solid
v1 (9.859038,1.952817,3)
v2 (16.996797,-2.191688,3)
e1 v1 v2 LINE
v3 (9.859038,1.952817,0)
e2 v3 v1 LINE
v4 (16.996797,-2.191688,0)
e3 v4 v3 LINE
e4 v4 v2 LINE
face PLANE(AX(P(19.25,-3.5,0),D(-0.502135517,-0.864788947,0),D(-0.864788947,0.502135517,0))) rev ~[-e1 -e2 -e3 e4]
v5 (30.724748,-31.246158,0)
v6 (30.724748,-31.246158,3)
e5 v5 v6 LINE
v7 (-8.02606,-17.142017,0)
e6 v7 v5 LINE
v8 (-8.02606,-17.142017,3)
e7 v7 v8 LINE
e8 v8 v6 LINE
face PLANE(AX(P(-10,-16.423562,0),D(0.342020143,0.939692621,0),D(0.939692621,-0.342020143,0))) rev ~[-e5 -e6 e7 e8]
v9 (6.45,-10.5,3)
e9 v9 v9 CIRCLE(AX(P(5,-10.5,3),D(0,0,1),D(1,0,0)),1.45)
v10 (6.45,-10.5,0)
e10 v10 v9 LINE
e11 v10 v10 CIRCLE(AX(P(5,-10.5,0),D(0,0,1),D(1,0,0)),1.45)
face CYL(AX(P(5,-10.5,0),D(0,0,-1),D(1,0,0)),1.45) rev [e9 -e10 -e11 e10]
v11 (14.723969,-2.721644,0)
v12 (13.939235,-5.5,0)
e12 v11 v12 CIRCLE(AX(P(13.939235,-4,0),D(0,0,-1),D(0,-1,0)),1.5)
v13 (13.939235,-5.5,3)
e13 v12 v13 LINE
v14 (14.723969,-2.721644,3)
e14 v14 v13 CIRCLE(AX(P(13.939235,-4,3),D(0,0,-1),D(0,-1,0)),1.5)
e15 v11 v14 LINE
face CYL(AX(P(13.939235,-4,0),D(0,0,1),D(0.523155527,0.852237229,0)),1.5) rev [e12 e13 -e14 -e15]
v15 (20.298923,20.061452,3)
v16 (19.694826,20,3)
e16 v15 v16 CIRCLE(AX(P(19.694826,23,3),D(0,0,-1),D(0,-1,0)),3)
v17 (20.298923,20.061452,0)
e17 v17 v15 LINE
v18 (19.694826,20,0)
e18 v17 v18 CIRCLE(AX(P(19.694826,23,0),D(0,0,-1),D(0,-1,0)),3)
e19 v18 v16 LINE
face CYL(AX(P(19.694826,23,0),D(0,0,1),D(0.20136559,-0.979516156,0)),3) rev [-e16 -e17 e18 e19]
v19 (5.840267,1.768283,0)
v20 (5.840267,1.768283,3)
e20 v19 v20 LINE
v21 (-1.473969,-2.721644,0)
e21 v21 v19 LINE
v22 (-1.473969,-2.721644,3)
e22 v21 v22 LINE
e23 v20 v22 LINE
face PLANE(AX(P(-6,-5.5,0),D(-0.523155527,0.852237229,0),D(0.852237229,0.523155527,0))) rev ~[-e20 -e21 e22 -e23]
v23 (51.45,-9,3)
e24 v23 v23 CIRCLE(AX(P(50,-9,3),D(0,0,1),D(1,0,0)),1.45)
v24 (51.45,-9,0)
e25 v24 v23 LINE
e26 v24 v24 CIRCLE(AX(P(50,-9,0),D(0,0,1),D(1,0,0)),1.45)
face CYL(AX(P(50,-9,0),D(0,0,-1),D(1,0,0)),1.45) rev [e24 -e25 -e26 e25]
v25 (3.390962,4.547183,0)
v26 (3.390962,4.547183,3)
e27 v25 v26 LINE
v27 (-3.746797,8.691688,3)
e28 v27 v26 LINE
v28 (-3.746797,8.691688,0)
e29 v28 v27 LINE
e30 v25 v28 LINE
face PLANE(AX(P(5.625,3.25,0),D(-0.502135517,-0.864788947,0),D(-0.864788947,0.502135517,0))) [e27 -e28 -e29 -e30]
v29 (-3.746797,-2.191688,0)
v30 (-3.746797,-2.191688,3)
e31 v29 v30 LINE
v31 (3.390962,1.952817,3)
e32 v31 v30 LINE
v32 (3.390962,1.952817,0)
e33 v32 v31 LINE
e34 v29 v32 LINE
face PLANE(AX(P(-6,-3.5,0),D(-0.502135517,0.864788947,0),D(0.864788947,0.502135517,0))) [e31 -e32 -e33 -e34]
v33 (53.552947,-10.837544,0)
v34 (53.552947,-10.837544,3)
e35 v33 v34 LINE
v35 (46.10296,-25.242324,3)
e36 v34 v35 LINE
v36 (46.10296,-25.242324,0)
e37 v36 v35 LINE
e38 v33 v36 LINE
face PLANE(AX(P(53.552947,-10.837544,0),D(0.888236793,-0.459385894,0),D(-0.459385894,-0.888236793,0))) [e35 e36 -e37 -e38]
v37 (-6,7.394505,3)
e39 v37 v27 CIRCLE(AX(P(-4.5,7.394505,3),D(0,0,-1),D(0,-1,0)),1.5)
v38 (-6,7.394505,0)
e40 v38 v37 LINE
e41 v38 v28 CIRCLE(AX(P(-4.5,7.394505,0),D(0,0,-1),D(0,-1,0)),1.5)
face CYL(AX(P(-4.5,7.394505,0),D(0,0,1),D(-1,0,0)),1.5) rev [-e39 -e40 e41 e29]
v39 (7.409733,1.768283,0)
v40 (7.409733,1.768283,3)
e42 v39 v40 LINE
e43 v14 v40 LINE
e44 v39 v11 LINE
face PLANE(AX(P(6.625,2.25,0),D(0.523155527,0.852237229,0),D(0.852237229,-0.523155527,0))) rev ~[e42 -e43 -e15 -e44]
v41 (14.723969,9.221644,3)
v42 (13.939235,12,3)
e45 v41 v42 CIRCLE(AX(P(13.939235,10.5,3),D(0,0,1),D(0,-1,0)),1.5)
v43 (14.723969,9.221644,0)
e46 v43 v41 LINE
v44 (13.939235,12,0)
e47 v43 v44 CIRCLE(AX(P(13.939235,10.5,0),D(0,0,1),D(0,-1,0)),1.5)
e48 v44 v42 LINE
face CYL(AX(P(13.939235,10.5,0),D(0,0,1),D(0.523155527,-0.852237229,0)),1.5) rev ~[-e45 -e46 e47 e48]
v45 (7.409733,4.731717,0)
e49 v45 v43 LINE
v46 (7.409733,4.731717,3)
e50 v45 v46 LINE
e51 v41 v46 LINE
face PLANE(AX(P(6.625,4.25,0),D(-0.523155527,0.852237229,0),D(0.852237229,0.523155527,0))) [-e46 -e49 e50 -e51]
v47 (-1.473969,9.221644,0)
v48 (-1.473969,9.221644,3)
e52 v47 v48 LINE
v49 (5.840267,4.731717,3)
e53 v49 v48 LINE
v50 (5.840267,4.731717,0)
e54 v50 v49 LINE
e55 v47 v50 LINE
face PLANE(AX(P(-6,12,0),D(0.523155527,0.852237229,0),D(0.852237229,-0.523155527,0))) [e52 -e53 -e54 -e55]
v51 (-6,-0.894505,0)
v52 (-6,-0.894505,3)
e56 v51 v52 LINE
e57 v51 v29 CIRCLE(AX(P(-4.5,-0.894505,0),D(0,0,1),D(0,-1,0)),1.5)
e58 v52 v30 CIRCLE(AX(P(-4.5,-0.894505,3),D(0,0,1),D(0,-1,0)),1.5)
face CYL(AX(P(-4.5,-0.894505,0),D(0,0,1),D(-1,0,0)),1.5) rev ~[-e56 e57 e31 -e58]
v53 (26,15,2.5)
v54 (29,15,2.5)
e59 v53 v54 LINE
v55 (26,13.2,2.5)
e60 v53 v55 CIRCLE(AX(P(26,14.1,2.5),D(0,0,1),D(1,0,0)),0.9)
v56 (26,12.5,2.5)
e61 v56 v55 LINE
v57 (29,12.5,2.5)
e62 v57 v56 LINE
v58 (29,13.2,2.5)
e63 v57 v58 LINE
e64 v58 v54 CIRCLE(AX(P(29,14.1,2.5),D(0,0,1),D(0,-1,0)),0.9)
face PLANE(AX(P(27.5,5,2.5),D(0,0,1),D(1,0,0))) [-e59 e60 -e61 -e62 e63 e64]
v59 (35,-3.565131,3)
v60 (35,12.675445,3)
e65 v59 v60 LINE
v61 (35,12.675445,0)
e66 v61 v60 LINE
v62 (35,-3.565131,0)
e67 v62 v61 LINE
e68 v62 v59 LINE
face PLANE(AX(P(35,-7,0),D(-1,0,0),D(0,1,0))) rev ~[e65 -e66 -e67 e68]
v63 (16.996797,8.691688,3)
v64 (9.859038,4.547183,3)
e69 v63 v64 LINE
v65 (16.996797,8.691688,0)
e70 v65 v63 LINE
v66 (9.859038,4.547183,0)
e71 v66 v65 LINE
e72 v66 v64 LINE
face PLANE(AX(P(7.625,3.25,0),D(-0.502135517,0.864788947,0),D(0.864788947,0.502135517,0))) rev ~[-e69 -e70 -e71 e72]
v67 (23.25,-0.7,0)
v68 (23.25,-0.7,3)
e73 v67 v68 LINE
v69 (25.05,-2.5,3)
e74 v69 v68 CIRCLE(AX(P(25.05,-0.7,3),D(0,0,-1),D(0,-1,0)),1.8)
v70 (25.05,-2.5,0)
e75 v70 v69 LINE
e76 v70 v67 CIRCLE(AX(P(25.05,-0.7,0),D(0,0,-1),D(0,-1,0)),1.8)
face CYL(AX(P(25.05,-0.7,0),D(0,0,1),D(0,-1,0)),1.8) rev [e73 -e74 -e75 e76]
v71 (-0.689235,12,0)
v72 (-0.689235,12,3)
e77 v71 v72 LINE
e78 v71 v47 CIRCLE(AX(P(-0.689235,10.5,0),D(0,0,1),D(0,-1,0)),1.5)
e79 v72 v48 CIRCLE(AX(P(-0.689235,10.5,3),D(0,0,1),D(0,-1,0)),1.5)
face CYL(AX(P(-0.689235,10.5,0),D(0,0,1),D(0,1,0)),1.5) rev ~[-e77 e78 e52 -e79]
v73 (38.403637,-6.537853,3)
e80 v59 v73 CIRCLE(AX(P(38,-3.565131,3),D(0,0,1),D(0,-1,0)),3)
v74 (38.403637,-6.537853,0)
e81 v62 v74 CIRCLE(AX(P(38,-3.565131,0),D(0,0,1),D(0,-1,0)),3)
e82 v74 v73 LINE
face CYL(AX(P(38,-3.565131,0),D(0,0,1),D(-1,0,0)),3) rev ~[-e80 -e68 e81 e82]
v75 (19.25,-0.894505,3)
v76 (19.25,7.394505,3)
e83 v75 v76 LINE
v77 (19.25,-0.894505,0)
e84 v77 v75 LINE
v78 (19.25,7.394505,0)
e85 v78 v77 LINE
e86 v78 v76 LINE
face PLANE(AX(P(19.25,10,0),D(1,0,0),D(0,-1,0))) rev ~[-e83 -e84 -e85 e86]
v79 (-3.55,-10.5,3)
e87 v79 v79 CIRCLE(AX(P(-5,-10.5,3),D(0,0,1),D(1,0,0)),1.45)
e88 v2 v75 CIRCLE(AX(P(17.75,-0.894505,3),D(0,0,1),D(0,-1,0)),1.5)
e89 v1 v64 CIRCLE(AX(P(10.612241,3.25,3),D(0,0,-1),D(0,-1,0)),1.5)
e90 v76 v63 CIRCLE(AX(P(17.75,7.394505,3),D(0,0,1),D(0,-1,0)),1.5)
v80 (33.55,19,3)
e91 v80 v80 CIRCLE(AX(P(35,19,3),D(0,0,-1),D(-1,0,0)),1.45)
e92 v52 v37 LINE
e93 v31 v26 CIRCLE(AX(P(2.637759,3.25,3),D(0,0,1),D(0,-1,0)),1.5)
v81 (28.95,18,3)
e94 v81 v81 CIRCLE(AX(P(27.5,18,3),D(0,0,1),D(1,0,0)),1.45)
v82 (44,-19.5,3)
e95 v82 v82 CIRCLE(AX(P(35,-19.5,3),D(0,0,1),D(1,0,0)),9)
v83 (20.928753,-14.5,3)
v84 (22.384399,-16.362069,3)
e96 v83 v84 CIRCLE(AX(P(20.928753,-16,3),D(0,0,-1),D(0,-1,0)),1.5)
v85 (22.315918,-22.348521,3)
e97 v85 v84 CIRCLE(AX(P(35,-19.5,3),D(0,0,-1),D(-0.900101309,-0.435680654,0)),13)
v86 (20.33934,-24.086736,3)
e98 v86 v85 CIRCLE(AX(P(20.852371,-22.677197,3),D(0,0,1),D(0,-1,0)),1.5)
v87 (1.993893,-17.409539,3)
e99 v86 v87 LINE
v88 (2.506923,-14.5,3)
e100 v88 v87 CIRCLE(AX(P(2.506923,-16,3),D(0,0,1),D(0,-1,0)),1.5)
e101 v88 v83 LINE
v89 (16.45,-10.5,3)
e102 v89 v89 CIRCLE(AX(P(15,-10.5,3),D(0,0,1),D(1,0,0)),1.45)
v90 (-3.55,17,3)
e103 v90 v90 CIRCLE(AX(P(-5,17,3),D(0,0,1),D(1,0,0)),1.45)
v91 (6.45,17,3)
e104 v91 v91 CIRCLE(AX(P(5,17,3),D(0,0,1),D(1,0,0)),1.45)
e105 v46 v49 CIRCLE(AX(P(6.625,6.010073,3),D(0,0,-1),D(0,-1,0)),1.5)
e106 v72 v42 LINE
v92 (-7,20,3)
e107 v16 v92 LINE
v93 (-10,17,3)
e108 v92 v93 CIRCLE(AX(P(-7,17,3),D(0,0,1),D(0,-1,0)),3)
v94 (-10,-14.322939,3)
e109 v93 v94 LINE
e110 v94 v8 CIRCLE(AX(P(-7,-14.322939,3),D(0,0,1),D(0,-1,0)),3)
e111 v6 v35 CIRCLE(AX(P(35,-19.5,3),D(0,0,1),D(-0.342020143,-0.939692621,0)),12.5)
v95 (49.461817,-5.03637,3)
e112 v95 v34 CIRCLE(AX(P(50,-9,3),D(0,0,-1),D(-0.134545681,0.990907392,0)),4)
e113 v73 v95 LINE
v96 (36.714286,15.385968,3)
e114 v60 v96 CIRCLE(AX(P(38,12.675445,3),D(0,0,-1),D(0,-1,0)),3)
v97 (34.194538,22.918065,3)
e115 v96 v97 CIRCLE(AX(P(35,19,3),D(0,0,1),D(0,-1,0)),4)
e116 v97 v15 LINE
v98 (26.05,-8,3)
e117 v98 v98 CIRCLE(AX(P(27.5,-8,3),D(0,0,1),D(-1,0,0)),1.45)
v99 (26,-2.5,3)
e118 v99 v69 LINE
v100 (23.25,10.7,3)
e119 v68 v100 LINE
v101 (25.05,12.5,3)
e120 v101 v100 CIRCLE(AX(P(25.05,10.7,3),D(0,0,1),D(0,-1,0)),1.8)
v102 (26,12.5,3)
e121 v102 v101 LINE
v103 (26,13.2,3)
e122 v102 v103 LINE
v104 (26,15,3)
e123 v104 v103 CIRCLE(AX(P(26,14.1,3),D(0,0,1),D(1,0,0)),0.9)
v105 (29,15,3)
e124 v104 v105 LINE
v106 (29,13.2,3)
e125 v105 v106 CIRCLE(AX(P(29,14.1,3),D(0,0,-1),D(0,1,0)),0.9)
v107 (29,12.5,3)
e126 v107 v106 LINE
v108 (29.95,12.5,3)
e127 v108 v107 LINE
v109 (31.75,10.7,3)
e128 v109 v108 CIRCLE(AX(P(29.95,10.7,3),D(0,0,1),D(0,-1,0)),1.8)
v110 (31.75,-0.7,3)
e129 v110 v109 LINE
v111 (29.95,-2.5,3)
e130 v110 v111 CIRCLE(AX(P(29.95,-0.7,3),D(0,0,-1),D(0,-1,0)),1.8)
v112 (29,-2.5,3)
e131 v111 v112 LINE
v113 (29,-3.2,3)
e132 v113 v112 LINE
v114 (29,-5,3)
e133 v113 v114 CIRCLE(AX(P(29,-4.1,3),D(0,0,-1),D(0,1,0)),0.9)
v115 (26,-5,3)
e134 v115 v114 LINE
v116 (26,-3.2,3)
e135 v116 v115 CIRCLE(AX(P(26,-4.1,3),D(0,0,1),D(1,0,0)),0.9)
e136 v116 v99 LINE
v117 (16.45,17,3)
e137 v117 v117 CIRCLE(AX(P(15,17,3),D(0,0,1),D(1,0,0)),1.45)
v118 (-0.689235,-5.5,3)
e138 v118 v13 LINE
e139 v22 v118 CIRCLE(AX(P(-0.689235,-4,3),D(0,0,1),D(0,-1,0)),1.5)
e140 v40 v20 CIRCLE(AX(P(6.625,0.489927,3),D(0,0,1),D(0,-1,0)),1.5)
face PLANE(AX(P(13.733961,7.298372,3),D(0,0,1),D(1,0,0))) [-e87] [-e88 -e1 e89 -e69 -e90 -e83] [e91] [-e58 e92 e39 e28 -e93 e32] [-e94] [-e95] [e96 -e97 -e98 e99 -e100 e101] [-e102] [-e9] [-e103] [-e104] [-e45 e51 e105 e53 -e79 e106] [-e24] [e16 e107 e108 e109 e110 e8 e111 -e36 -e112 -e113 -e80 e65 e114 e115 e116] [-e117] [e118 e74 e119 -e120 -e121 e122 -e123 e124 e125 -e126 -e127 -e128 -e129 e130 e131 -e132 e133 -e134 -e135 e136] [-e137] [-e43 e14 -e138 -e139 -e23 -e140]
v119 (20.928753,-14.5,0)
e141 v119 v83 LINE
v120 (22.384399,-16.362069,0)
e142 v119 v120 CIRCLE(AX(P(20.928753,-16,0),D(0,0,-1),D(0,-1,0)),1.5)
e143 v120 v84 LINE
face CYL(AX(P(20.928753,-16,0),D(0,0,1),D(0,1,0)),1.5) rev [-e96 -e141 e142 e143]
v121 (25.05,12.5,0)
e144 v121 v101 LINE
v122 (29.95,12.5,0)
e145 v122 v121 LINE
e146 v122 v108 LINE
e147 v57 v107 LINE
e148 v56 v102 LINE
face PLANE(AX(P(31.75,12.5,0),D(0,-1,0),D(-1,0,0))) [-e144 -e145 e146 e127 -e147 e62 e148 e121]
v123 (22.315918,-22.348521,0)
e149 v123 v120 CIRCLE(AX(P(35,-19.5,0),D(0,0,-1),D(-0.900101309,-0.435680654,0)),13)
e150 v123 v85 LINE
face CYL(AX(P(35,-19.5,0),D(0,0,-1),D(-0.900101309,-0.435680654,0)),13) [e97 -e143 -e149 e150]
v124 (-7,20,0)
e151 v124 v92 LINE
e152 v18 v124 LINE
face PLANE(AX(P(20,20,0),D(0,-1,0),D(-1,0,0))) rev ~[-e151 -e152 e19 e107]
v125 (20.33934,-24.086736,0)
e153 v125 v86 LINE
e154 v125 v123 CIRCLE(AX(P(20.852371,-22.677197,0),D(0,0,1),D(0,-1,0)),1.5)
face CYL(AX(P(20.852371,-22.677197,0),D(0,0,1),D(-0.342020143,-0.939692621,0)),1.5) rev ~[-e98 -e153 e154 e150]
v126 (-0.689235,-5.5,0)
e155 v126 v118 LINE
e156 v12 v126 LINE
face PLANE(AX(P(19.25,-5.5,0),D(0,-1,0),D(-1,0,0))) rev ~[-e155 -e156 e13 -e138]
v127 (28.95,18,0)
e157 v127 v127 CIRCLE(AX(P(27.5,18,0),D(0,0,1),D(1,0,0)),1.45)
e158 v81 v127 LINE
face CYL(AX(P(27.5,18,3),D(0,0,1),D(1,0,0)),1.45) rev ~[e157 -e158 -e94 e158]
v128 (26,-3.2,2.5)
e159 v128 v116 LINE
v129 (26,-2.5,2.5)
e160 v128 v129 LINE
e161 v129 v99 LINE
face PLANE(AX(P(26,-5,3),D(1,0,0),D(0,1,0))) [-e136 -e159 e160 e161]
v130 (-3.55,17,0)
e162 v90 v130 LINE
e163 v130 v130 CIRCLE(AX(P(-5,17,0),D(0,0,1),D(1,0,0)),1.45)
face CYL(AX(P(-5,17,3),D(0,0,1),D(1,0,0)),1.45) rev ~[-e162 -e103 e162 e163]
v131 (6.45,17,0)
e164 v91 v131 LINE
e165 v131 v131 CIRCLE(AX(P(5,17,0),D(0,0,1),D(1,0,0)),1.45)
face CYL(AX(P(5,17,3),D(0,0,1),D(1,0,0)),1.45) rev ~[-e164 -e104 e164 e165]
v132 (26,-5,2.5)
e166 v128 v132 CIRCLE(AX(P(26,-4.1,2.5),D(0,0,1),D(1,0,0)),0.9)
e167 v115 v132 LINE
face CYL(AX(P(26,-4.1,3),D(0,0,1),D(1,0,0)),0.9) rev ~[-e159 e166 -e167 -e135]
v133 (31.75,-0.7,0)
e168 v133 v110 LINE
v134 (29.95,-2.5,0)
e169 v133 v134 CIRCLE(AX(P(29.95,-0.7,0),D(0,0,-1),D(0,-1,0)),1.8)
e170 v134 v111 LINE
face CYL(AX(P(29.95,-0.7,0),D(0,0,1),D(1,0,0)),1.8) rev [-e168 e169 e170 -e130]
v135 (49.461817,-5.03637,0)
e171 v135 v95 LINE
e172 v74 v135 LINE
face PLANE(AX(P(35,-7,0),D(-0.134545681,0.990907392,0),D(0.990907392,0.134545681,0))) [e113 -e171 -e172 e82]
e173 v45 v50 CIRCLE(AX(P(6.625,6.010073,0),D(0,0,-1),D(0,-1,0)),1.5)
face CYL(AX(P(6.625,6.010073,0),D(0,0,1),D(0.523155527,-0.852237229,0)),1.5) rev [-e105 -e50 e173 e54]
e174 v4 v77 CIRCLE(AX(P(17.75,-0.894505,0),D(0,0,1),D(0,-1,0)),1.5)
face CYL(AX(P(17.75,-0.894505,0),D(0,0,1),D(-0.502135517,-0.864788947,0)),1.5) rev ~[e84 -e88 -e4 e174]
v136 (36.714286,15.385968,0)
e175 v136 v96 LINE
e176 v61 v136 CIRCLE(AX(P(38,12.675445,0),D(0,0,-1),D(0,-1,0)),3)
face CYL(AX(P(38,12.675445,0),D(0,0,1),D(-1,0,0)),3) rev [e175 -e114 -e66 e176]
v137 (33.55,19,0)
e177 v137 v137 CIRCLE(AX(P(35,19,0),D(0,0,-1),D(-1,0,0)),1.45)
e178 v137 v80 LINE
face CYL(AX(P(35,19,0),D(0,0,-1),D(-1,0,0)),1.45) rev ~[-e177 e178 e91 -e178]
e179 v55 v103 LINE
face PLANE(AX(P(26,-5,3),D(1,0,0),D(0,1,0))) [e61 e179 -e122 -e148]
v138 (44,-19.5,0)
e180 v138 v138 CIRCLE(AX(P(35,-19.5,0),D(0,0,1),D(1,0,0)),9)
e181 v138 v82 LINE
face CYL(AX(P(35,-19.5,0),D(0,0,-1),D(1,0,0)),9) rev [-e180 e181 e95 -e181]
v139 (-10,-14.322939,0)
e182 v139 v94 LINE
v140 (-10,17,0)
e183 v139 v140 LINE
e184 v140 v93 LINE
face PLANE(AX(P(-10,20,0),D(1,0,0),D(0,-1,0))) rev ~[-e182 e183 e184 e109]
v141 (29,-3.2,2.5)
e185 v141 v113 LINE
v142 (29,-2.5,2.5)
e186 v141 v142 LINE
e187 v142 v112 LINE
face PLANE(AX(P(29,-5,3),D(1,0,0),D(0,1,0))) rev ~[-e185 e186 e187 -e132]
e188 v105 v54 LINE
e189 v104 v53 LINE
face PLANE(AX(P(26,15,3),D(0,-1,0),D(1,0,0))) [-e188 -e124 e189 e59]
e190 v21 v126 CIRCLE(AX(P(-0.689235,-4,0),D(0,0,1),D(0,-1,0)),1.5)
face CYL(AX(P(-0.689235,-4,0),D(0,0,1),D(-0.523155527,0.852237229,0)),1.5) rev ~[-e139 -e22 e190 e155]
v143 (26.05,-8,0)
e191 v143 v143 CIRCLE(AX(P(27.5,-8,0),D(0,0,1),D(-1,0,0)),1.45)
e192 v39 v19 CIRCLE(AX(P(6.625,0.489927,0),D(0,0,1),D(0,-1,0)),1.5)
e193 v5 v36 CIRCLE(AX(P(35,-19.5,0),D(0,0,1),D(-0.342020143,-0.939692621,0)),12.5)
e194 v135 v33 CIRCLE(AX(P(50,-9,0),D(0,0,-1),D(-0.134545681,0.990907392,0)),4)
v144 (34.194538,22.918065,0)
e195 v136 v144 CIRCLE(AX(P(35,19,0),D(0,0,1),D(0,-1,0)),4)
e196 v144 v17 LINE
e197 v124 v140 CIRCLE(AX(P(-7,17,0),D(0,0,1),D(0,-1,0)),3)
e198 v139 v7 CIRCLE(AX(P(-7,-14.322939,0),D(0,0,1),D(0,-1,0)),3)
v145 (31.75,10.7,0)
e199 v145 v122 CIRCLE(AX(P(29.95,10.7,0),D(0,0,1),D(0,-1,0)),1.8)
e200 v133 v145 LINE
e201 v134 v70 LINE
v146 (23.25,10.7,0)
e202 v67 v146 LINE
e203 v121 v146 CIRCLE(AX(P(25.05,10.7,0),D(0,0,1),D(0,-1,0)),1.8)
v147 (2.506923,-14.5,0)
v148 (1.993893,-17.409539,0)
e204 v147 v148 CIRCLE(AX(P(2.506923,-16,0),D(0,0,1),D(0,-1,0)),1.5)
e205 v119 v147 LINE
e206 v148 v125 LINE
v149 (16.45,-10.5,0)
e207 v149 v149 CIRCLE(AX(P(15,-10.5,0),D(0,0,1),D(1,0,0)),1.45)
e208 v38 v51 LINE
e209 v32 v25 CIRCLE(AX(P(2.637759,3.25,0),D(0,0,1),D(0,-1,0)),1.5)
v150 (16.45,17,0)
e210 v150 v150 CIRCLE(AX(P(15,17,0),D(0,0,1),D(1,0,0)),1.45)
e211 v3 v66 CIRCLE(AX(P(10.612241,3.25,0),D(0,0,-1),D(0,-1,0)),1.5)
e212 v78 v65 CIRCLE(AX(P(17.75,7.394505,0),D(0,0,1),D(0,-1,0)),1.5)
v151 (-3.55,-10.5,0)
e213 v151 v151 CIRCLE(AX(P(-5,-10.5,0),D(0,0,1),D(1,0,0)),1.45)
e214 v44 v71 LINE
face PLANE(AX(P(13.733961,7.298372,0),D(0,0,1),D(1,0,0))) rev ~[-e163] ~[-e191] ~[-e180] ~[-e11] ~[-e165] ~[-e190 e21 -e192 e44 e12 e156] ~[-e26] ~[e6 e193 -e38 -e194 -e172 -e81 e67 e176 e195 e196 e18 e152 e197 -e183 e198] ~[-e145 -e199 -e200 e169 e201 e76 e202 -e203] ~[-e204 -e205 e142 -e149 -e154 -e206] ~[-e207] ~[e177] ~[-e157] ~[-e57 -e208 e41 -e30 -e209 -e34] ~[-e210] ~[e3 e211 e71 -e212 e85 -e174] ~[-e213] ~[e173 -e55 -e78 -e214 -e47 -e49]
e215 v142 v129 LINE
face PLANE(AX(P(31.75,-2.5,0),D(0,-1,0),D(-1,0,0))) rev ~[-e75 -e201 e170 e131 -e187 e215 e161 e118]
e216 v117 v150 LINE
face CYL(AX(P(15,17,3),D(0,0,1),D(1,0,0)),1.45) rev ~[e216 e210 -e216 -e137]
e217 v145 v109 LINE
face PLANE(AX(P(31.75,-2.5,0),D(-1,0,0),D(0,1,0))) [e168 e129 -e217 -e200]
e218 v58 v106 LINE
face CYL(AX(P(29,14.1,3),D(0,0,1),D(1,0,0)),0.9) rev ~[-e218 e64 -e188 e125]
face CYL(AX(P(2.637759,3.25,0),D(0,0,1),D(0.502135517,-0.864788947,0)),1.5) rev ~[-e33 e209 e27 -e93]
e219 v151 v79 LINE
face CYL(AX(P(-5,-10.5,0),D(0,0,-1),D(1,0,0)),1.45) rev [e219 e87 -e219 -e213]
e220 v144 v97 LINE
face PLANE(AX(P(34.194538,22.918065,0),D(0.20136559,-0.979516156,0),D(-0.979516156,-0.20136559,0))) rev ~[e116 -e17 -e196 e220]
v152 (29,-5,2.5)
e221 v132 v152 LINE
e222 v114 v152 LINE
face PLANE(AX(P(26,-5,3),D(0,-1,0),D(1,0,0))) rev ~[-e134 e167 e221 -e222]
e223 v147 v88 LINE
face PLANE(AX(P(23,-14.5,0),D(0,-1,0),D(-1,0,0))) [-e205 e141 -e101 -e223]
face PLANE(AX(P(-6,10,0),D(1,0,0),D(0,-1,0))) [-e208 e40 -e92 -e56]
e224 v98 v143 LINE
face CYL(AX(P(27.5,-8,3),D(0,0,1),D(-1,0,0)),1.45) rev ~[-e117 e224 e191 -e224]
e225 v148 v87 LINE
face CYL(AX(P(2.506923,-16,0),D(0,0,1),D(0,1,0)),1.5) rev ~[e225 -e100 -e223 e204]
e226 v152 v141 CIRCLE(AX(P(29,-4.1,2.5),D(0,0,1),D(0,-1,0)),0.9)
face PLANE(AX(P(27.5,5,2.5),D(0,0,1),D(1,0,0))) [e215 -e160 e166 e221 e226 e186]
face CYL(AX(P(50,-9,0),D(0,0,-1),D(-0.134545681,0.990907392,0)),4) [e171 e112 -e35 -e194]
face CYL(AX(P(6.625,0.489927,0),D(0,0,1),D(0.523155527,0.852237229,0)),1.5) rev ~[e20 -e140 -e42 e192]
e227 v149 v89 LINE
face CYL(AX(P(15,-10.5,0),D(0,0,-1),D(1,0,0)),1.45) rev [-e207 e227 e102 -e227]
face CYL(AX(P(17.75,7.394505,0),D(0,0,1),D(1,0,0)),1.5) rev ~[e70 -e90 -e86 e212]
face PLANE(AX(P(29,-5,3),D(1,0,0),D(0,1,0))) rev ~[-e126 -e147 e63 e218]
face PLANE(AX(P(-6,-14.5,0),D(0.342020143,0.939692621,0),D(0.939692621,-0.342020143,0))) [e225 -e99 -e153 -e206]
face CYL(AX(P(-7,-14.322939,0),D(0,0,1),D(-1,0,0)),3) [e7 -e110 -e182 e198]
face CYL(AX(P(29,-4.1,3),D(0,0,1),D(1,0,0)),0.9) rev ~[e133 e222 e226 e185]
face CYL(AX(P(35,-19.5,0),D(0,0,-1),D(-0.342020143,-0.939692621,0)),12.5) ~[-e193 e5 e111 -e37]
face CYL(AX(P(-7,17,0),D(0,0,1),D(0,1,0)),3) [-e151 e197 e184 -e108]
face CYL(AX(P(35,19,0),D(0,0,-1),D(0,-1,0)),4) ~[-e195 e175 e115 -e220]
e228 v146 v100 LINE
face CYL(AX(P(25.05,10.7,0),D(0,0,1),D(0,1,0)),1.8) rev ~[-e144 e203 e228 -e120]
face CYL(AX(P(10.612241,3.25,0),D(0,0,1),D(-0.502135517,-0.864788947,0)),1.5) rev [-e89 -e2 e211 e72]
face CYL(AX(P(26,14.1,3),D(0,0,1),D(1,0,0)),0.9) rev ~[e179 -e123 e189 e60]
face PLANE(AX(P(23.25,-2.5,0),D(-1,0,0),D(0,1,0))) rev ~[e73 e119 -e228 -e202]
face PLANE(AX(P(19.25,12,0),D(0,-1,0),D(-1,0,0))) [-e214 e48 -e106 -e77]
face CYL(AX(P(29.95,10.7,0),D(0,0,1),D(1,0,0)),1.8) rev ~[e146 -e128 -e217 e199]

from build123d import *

# Parameters (mm, degrees)
SKETCH_2_R          = 9
SKETCH_2_R_2        = 1.45
EXTRUDE_1_DEPTH     = 3
EXTRUDE_START       = -3
SKETCH_4_R          = 1.45
EXTRUDE_2_DEPTH     = 3
SKETCH_5_R          = 1.45
SKETCH_5_W          = 8.5
SKETCH_5_H          = 15
EXTRUDE_3_DEPTH     = 3
SKETCH_6_W          = 3
SKETCH_6_H          = 20
CUT_EXTRUDE_2_DEPTH = 0.5
SKETCH_7_R          = 1.45
CUT_EXTRUDE_3_DEPTH = 20
FILLET_1_R          = 1.8
FILLET_2_R          = 3
SKETCH_8_R          = 0.9
CUT_EXTRUDE_4_DEPTH = 0.5
CUT_EXTRUDE_5_DEPTH = 10.5
FILLET_3_R          = 1.5


with BuildPart() as part:
    # 草图2 → 凸台-拉伸1 (new body)
    with BuildSketch(Plane.XY):
        with BuildLine():
            Line((-10, -7), (-10, -16.423561614))
            Line((-10, -16.423561614), (30.724748208, -31.24615776))
            ThreePointArc((30.724748208, -31.24615776), (47.310096913, -21.670602221), (35, -7))
            Line((35, -7), (-10, -7))
        make_face()
        with Locations((35, -19.5)):
            Circle(SKETCH_2_R, mode=Mode.SUBTRACT)
        with Locations((15, -10.5)):
            Circle(SKETCH_2_R_2, mode=Mode.SUBTRACT)
        with Locations((5, -10.5)):
            Circle(SKETCH_2_R_2, mode=Mode.SUBTRACT)
        with Locations((-5, -10.5)):
            Circle(SKETCH_2_R_2, mode=Mode.SUBTRACT)
    extrude(amount=EXTRUDE_1_DEPTH)

    # 草图4 → 凸台-拉伸2 (add)
    with BuildSketch(Plane.XY.offset(3).offset(EXTRUDE_START)):
        with BuildLine():
            Line((35, -7), (49.461817276, -5.036370432))
            ThreePointArc((49.461817276, -5.036370432), (53.268884157, -6.694702543), (53.552947171, -10.837543578))
            Line((53.552947171, -10.837543578), (46.102959909, -25.24232368))
            ThreePointArc((46.102959909, -25.24232368), (45.677758332, -13.00111725), (35, -7))
        make_face()
        with Locations((50, -9)):
            Circle(SKETCH_4_R, mode=Mode.SUBTRACT)
    extrude(amount=EXTRUDE_2_DEPTH)

    # 草图5 → 凸台-拉伸3 (add)
    with BuildSketch(Plane(origin=(0, 0, 0), x_dir=(-1, 0, 0), z_dir=(0, 0, -1))):
        with BuildLine():
            Line((-35, -7), (-35, 15))
            ThreePointArc((-35, 15), (-38.979463437, 19.404809528), (-34.194537642, 22.918064623))
            Line((-34.194537642, 22.918064623), (-20, 20))
            Line((-20, 20), (10, 20))
            Line((10, 20), (10, -7))
            Line((10, -7), (-35, -7))
        make_face()
        with Locations((-35, 19)):
            Circle(SKETCH_5_R, mode=Mode.SUBTRACT)
        with Locations((-27.5, 5)):
            Rectangle(SKETCH_5_W, SKETCH_5_H, mode=Mode.SUBTRACT)
    extrude(amount=-EXTRUDE_3_DEPTH)

    # 草图6 → 切除-拉伸2 (cut)
    with BuildSketch(Plane.XY.offset(3)):
        with Locations((27.5, 5)):
            Rectangle(SKETCH_6_W, SKETCH_6_H)
    extrude(amount=-CUT_EXTRUDE_2_DEPTH, mode=Mode.SUBTRACT)

    # 草图7 → 切除-拉伸3 (cut)
    with BuildSketch(Plane.XY.offset(3)):
        with Locations((27.5, 18)):
            Circle(SKETCH_7_R)
        with Locations(Location((27.5, -8, 0), (0, 0, 180))):
            Circle(SKETCH_7_R)
        with Locations((-5, 17)):
            Circle(SKETCH_7_R)
        with Locations((5, 17)):
            Circle(SKETCH_7_R)
        with Locations((15, 17)):
            Circle(SKETCH_7_R)
    extrude(amount=-CUT_EXTRUDE_3_DEPTH, mode=Mode.SUBTRACT)

    # 圆角1
    fillet_1_edges = [part.edges().sort_by_distance(p)[0] for p in [
        (31.75, 12.5, 1.5),
        (23.25, 12.5, 1.5),
        (23.25, -2.5, 1.5),
        (31.75, -2.5, 1.5),
    ]]
    fillet(fillet_1_edges, radius=FILLET_1_R)

    # 圆角2
    fillet_2_edges = [part.edges().sort_by_distance(p)[0] for p in [
        (35, 15, 1.5),
        (20, 20, 1.5),
        (-10, 20, 1.5),
        (35, -7, 1.5),
        (-10, -16.423561614, 1.5),
    ]]
    fillet(fillet_2_edges, radius=FILLET_2_R)

    # 草图8 → 切除-拉伸4 (cut)
    with BuildSketch(Plane.XY.offset(3)):
        with Locations((26, 14.1)):
            Circle(SKETCH_8_R)
        with Locations((29, 14.1)):
            Circle(SKETCH_8_R)
        with Locations((26, -4.1)):
            Circle(SKETCH_8_R)
        with Locations((29, -4.1)):
            Circle(SKETCH_8_R)
    extrude(amount=-CUT_EXTRUDE_4_DEPTH, mode=Mode.SUBTRACT)

    # 草图9 → 切除-拉伸5 (cut)
    with BuildSketch(Plane(origin=(0, 0, 0), x_dir=(-1, 0, 0), z_dir=(0, 0, -1))):
        Polygon((-6.625, 4.25), (-19.25, 12), (6, 12), align=None)
        Polygon((-7.625, 3.25), (-19.25, 10), (-19.25, -3.5), align=None)
        Polygon((6, 10), (6, -3.5), (-5.625, 3.25), align=None)
        Polygon((-19.25, -5.5), (6, -5.5), (-6.625, 2.25), align=None)
        with BuildLine():
            Line((-23, -14.5), (6, -14.5))
            Line((6, -14.5), (-23.298682976, -25.163848506))
            ThreePointArc((-23.298682976, -25.163848506), (-22.005096252, -19.863973337), (-23, -14.5))
        make_face()
    extrude(amount=-CUT_EXTRUDE_5_DEPTH, mode=Mode.SUBTRACT)

    # 圆角3
    fillet_3_edges = [part.edges().sort_by_distance(p)[0] for p in [
        (7.625, 3.25, 1.5),
        (19.25, -3.5, 1.5),
        (19.25, 10, 1.5),
        (23.298682976, -25.163848506, 1.5),
        (23, -14.5, 1.5),
        (-6, -14.5, 1.5),
        (19.25, -5.5, 1.5),
        (6.625, 2.25, 1.5),
        (-6, -5.5, 1.5),
        (5.625, 3.25, 1.5),
        (-6, 10, 1.5),
        (-6, -3.5, 1.5),
        (-6, 12, 1.5),
        (6.625, 4.25, 1.5),
        (19.25, 12, 1.5),
    ]]
    fillet(fillet_3_edges, radius=FILLET_3_R)


solid = part.part
